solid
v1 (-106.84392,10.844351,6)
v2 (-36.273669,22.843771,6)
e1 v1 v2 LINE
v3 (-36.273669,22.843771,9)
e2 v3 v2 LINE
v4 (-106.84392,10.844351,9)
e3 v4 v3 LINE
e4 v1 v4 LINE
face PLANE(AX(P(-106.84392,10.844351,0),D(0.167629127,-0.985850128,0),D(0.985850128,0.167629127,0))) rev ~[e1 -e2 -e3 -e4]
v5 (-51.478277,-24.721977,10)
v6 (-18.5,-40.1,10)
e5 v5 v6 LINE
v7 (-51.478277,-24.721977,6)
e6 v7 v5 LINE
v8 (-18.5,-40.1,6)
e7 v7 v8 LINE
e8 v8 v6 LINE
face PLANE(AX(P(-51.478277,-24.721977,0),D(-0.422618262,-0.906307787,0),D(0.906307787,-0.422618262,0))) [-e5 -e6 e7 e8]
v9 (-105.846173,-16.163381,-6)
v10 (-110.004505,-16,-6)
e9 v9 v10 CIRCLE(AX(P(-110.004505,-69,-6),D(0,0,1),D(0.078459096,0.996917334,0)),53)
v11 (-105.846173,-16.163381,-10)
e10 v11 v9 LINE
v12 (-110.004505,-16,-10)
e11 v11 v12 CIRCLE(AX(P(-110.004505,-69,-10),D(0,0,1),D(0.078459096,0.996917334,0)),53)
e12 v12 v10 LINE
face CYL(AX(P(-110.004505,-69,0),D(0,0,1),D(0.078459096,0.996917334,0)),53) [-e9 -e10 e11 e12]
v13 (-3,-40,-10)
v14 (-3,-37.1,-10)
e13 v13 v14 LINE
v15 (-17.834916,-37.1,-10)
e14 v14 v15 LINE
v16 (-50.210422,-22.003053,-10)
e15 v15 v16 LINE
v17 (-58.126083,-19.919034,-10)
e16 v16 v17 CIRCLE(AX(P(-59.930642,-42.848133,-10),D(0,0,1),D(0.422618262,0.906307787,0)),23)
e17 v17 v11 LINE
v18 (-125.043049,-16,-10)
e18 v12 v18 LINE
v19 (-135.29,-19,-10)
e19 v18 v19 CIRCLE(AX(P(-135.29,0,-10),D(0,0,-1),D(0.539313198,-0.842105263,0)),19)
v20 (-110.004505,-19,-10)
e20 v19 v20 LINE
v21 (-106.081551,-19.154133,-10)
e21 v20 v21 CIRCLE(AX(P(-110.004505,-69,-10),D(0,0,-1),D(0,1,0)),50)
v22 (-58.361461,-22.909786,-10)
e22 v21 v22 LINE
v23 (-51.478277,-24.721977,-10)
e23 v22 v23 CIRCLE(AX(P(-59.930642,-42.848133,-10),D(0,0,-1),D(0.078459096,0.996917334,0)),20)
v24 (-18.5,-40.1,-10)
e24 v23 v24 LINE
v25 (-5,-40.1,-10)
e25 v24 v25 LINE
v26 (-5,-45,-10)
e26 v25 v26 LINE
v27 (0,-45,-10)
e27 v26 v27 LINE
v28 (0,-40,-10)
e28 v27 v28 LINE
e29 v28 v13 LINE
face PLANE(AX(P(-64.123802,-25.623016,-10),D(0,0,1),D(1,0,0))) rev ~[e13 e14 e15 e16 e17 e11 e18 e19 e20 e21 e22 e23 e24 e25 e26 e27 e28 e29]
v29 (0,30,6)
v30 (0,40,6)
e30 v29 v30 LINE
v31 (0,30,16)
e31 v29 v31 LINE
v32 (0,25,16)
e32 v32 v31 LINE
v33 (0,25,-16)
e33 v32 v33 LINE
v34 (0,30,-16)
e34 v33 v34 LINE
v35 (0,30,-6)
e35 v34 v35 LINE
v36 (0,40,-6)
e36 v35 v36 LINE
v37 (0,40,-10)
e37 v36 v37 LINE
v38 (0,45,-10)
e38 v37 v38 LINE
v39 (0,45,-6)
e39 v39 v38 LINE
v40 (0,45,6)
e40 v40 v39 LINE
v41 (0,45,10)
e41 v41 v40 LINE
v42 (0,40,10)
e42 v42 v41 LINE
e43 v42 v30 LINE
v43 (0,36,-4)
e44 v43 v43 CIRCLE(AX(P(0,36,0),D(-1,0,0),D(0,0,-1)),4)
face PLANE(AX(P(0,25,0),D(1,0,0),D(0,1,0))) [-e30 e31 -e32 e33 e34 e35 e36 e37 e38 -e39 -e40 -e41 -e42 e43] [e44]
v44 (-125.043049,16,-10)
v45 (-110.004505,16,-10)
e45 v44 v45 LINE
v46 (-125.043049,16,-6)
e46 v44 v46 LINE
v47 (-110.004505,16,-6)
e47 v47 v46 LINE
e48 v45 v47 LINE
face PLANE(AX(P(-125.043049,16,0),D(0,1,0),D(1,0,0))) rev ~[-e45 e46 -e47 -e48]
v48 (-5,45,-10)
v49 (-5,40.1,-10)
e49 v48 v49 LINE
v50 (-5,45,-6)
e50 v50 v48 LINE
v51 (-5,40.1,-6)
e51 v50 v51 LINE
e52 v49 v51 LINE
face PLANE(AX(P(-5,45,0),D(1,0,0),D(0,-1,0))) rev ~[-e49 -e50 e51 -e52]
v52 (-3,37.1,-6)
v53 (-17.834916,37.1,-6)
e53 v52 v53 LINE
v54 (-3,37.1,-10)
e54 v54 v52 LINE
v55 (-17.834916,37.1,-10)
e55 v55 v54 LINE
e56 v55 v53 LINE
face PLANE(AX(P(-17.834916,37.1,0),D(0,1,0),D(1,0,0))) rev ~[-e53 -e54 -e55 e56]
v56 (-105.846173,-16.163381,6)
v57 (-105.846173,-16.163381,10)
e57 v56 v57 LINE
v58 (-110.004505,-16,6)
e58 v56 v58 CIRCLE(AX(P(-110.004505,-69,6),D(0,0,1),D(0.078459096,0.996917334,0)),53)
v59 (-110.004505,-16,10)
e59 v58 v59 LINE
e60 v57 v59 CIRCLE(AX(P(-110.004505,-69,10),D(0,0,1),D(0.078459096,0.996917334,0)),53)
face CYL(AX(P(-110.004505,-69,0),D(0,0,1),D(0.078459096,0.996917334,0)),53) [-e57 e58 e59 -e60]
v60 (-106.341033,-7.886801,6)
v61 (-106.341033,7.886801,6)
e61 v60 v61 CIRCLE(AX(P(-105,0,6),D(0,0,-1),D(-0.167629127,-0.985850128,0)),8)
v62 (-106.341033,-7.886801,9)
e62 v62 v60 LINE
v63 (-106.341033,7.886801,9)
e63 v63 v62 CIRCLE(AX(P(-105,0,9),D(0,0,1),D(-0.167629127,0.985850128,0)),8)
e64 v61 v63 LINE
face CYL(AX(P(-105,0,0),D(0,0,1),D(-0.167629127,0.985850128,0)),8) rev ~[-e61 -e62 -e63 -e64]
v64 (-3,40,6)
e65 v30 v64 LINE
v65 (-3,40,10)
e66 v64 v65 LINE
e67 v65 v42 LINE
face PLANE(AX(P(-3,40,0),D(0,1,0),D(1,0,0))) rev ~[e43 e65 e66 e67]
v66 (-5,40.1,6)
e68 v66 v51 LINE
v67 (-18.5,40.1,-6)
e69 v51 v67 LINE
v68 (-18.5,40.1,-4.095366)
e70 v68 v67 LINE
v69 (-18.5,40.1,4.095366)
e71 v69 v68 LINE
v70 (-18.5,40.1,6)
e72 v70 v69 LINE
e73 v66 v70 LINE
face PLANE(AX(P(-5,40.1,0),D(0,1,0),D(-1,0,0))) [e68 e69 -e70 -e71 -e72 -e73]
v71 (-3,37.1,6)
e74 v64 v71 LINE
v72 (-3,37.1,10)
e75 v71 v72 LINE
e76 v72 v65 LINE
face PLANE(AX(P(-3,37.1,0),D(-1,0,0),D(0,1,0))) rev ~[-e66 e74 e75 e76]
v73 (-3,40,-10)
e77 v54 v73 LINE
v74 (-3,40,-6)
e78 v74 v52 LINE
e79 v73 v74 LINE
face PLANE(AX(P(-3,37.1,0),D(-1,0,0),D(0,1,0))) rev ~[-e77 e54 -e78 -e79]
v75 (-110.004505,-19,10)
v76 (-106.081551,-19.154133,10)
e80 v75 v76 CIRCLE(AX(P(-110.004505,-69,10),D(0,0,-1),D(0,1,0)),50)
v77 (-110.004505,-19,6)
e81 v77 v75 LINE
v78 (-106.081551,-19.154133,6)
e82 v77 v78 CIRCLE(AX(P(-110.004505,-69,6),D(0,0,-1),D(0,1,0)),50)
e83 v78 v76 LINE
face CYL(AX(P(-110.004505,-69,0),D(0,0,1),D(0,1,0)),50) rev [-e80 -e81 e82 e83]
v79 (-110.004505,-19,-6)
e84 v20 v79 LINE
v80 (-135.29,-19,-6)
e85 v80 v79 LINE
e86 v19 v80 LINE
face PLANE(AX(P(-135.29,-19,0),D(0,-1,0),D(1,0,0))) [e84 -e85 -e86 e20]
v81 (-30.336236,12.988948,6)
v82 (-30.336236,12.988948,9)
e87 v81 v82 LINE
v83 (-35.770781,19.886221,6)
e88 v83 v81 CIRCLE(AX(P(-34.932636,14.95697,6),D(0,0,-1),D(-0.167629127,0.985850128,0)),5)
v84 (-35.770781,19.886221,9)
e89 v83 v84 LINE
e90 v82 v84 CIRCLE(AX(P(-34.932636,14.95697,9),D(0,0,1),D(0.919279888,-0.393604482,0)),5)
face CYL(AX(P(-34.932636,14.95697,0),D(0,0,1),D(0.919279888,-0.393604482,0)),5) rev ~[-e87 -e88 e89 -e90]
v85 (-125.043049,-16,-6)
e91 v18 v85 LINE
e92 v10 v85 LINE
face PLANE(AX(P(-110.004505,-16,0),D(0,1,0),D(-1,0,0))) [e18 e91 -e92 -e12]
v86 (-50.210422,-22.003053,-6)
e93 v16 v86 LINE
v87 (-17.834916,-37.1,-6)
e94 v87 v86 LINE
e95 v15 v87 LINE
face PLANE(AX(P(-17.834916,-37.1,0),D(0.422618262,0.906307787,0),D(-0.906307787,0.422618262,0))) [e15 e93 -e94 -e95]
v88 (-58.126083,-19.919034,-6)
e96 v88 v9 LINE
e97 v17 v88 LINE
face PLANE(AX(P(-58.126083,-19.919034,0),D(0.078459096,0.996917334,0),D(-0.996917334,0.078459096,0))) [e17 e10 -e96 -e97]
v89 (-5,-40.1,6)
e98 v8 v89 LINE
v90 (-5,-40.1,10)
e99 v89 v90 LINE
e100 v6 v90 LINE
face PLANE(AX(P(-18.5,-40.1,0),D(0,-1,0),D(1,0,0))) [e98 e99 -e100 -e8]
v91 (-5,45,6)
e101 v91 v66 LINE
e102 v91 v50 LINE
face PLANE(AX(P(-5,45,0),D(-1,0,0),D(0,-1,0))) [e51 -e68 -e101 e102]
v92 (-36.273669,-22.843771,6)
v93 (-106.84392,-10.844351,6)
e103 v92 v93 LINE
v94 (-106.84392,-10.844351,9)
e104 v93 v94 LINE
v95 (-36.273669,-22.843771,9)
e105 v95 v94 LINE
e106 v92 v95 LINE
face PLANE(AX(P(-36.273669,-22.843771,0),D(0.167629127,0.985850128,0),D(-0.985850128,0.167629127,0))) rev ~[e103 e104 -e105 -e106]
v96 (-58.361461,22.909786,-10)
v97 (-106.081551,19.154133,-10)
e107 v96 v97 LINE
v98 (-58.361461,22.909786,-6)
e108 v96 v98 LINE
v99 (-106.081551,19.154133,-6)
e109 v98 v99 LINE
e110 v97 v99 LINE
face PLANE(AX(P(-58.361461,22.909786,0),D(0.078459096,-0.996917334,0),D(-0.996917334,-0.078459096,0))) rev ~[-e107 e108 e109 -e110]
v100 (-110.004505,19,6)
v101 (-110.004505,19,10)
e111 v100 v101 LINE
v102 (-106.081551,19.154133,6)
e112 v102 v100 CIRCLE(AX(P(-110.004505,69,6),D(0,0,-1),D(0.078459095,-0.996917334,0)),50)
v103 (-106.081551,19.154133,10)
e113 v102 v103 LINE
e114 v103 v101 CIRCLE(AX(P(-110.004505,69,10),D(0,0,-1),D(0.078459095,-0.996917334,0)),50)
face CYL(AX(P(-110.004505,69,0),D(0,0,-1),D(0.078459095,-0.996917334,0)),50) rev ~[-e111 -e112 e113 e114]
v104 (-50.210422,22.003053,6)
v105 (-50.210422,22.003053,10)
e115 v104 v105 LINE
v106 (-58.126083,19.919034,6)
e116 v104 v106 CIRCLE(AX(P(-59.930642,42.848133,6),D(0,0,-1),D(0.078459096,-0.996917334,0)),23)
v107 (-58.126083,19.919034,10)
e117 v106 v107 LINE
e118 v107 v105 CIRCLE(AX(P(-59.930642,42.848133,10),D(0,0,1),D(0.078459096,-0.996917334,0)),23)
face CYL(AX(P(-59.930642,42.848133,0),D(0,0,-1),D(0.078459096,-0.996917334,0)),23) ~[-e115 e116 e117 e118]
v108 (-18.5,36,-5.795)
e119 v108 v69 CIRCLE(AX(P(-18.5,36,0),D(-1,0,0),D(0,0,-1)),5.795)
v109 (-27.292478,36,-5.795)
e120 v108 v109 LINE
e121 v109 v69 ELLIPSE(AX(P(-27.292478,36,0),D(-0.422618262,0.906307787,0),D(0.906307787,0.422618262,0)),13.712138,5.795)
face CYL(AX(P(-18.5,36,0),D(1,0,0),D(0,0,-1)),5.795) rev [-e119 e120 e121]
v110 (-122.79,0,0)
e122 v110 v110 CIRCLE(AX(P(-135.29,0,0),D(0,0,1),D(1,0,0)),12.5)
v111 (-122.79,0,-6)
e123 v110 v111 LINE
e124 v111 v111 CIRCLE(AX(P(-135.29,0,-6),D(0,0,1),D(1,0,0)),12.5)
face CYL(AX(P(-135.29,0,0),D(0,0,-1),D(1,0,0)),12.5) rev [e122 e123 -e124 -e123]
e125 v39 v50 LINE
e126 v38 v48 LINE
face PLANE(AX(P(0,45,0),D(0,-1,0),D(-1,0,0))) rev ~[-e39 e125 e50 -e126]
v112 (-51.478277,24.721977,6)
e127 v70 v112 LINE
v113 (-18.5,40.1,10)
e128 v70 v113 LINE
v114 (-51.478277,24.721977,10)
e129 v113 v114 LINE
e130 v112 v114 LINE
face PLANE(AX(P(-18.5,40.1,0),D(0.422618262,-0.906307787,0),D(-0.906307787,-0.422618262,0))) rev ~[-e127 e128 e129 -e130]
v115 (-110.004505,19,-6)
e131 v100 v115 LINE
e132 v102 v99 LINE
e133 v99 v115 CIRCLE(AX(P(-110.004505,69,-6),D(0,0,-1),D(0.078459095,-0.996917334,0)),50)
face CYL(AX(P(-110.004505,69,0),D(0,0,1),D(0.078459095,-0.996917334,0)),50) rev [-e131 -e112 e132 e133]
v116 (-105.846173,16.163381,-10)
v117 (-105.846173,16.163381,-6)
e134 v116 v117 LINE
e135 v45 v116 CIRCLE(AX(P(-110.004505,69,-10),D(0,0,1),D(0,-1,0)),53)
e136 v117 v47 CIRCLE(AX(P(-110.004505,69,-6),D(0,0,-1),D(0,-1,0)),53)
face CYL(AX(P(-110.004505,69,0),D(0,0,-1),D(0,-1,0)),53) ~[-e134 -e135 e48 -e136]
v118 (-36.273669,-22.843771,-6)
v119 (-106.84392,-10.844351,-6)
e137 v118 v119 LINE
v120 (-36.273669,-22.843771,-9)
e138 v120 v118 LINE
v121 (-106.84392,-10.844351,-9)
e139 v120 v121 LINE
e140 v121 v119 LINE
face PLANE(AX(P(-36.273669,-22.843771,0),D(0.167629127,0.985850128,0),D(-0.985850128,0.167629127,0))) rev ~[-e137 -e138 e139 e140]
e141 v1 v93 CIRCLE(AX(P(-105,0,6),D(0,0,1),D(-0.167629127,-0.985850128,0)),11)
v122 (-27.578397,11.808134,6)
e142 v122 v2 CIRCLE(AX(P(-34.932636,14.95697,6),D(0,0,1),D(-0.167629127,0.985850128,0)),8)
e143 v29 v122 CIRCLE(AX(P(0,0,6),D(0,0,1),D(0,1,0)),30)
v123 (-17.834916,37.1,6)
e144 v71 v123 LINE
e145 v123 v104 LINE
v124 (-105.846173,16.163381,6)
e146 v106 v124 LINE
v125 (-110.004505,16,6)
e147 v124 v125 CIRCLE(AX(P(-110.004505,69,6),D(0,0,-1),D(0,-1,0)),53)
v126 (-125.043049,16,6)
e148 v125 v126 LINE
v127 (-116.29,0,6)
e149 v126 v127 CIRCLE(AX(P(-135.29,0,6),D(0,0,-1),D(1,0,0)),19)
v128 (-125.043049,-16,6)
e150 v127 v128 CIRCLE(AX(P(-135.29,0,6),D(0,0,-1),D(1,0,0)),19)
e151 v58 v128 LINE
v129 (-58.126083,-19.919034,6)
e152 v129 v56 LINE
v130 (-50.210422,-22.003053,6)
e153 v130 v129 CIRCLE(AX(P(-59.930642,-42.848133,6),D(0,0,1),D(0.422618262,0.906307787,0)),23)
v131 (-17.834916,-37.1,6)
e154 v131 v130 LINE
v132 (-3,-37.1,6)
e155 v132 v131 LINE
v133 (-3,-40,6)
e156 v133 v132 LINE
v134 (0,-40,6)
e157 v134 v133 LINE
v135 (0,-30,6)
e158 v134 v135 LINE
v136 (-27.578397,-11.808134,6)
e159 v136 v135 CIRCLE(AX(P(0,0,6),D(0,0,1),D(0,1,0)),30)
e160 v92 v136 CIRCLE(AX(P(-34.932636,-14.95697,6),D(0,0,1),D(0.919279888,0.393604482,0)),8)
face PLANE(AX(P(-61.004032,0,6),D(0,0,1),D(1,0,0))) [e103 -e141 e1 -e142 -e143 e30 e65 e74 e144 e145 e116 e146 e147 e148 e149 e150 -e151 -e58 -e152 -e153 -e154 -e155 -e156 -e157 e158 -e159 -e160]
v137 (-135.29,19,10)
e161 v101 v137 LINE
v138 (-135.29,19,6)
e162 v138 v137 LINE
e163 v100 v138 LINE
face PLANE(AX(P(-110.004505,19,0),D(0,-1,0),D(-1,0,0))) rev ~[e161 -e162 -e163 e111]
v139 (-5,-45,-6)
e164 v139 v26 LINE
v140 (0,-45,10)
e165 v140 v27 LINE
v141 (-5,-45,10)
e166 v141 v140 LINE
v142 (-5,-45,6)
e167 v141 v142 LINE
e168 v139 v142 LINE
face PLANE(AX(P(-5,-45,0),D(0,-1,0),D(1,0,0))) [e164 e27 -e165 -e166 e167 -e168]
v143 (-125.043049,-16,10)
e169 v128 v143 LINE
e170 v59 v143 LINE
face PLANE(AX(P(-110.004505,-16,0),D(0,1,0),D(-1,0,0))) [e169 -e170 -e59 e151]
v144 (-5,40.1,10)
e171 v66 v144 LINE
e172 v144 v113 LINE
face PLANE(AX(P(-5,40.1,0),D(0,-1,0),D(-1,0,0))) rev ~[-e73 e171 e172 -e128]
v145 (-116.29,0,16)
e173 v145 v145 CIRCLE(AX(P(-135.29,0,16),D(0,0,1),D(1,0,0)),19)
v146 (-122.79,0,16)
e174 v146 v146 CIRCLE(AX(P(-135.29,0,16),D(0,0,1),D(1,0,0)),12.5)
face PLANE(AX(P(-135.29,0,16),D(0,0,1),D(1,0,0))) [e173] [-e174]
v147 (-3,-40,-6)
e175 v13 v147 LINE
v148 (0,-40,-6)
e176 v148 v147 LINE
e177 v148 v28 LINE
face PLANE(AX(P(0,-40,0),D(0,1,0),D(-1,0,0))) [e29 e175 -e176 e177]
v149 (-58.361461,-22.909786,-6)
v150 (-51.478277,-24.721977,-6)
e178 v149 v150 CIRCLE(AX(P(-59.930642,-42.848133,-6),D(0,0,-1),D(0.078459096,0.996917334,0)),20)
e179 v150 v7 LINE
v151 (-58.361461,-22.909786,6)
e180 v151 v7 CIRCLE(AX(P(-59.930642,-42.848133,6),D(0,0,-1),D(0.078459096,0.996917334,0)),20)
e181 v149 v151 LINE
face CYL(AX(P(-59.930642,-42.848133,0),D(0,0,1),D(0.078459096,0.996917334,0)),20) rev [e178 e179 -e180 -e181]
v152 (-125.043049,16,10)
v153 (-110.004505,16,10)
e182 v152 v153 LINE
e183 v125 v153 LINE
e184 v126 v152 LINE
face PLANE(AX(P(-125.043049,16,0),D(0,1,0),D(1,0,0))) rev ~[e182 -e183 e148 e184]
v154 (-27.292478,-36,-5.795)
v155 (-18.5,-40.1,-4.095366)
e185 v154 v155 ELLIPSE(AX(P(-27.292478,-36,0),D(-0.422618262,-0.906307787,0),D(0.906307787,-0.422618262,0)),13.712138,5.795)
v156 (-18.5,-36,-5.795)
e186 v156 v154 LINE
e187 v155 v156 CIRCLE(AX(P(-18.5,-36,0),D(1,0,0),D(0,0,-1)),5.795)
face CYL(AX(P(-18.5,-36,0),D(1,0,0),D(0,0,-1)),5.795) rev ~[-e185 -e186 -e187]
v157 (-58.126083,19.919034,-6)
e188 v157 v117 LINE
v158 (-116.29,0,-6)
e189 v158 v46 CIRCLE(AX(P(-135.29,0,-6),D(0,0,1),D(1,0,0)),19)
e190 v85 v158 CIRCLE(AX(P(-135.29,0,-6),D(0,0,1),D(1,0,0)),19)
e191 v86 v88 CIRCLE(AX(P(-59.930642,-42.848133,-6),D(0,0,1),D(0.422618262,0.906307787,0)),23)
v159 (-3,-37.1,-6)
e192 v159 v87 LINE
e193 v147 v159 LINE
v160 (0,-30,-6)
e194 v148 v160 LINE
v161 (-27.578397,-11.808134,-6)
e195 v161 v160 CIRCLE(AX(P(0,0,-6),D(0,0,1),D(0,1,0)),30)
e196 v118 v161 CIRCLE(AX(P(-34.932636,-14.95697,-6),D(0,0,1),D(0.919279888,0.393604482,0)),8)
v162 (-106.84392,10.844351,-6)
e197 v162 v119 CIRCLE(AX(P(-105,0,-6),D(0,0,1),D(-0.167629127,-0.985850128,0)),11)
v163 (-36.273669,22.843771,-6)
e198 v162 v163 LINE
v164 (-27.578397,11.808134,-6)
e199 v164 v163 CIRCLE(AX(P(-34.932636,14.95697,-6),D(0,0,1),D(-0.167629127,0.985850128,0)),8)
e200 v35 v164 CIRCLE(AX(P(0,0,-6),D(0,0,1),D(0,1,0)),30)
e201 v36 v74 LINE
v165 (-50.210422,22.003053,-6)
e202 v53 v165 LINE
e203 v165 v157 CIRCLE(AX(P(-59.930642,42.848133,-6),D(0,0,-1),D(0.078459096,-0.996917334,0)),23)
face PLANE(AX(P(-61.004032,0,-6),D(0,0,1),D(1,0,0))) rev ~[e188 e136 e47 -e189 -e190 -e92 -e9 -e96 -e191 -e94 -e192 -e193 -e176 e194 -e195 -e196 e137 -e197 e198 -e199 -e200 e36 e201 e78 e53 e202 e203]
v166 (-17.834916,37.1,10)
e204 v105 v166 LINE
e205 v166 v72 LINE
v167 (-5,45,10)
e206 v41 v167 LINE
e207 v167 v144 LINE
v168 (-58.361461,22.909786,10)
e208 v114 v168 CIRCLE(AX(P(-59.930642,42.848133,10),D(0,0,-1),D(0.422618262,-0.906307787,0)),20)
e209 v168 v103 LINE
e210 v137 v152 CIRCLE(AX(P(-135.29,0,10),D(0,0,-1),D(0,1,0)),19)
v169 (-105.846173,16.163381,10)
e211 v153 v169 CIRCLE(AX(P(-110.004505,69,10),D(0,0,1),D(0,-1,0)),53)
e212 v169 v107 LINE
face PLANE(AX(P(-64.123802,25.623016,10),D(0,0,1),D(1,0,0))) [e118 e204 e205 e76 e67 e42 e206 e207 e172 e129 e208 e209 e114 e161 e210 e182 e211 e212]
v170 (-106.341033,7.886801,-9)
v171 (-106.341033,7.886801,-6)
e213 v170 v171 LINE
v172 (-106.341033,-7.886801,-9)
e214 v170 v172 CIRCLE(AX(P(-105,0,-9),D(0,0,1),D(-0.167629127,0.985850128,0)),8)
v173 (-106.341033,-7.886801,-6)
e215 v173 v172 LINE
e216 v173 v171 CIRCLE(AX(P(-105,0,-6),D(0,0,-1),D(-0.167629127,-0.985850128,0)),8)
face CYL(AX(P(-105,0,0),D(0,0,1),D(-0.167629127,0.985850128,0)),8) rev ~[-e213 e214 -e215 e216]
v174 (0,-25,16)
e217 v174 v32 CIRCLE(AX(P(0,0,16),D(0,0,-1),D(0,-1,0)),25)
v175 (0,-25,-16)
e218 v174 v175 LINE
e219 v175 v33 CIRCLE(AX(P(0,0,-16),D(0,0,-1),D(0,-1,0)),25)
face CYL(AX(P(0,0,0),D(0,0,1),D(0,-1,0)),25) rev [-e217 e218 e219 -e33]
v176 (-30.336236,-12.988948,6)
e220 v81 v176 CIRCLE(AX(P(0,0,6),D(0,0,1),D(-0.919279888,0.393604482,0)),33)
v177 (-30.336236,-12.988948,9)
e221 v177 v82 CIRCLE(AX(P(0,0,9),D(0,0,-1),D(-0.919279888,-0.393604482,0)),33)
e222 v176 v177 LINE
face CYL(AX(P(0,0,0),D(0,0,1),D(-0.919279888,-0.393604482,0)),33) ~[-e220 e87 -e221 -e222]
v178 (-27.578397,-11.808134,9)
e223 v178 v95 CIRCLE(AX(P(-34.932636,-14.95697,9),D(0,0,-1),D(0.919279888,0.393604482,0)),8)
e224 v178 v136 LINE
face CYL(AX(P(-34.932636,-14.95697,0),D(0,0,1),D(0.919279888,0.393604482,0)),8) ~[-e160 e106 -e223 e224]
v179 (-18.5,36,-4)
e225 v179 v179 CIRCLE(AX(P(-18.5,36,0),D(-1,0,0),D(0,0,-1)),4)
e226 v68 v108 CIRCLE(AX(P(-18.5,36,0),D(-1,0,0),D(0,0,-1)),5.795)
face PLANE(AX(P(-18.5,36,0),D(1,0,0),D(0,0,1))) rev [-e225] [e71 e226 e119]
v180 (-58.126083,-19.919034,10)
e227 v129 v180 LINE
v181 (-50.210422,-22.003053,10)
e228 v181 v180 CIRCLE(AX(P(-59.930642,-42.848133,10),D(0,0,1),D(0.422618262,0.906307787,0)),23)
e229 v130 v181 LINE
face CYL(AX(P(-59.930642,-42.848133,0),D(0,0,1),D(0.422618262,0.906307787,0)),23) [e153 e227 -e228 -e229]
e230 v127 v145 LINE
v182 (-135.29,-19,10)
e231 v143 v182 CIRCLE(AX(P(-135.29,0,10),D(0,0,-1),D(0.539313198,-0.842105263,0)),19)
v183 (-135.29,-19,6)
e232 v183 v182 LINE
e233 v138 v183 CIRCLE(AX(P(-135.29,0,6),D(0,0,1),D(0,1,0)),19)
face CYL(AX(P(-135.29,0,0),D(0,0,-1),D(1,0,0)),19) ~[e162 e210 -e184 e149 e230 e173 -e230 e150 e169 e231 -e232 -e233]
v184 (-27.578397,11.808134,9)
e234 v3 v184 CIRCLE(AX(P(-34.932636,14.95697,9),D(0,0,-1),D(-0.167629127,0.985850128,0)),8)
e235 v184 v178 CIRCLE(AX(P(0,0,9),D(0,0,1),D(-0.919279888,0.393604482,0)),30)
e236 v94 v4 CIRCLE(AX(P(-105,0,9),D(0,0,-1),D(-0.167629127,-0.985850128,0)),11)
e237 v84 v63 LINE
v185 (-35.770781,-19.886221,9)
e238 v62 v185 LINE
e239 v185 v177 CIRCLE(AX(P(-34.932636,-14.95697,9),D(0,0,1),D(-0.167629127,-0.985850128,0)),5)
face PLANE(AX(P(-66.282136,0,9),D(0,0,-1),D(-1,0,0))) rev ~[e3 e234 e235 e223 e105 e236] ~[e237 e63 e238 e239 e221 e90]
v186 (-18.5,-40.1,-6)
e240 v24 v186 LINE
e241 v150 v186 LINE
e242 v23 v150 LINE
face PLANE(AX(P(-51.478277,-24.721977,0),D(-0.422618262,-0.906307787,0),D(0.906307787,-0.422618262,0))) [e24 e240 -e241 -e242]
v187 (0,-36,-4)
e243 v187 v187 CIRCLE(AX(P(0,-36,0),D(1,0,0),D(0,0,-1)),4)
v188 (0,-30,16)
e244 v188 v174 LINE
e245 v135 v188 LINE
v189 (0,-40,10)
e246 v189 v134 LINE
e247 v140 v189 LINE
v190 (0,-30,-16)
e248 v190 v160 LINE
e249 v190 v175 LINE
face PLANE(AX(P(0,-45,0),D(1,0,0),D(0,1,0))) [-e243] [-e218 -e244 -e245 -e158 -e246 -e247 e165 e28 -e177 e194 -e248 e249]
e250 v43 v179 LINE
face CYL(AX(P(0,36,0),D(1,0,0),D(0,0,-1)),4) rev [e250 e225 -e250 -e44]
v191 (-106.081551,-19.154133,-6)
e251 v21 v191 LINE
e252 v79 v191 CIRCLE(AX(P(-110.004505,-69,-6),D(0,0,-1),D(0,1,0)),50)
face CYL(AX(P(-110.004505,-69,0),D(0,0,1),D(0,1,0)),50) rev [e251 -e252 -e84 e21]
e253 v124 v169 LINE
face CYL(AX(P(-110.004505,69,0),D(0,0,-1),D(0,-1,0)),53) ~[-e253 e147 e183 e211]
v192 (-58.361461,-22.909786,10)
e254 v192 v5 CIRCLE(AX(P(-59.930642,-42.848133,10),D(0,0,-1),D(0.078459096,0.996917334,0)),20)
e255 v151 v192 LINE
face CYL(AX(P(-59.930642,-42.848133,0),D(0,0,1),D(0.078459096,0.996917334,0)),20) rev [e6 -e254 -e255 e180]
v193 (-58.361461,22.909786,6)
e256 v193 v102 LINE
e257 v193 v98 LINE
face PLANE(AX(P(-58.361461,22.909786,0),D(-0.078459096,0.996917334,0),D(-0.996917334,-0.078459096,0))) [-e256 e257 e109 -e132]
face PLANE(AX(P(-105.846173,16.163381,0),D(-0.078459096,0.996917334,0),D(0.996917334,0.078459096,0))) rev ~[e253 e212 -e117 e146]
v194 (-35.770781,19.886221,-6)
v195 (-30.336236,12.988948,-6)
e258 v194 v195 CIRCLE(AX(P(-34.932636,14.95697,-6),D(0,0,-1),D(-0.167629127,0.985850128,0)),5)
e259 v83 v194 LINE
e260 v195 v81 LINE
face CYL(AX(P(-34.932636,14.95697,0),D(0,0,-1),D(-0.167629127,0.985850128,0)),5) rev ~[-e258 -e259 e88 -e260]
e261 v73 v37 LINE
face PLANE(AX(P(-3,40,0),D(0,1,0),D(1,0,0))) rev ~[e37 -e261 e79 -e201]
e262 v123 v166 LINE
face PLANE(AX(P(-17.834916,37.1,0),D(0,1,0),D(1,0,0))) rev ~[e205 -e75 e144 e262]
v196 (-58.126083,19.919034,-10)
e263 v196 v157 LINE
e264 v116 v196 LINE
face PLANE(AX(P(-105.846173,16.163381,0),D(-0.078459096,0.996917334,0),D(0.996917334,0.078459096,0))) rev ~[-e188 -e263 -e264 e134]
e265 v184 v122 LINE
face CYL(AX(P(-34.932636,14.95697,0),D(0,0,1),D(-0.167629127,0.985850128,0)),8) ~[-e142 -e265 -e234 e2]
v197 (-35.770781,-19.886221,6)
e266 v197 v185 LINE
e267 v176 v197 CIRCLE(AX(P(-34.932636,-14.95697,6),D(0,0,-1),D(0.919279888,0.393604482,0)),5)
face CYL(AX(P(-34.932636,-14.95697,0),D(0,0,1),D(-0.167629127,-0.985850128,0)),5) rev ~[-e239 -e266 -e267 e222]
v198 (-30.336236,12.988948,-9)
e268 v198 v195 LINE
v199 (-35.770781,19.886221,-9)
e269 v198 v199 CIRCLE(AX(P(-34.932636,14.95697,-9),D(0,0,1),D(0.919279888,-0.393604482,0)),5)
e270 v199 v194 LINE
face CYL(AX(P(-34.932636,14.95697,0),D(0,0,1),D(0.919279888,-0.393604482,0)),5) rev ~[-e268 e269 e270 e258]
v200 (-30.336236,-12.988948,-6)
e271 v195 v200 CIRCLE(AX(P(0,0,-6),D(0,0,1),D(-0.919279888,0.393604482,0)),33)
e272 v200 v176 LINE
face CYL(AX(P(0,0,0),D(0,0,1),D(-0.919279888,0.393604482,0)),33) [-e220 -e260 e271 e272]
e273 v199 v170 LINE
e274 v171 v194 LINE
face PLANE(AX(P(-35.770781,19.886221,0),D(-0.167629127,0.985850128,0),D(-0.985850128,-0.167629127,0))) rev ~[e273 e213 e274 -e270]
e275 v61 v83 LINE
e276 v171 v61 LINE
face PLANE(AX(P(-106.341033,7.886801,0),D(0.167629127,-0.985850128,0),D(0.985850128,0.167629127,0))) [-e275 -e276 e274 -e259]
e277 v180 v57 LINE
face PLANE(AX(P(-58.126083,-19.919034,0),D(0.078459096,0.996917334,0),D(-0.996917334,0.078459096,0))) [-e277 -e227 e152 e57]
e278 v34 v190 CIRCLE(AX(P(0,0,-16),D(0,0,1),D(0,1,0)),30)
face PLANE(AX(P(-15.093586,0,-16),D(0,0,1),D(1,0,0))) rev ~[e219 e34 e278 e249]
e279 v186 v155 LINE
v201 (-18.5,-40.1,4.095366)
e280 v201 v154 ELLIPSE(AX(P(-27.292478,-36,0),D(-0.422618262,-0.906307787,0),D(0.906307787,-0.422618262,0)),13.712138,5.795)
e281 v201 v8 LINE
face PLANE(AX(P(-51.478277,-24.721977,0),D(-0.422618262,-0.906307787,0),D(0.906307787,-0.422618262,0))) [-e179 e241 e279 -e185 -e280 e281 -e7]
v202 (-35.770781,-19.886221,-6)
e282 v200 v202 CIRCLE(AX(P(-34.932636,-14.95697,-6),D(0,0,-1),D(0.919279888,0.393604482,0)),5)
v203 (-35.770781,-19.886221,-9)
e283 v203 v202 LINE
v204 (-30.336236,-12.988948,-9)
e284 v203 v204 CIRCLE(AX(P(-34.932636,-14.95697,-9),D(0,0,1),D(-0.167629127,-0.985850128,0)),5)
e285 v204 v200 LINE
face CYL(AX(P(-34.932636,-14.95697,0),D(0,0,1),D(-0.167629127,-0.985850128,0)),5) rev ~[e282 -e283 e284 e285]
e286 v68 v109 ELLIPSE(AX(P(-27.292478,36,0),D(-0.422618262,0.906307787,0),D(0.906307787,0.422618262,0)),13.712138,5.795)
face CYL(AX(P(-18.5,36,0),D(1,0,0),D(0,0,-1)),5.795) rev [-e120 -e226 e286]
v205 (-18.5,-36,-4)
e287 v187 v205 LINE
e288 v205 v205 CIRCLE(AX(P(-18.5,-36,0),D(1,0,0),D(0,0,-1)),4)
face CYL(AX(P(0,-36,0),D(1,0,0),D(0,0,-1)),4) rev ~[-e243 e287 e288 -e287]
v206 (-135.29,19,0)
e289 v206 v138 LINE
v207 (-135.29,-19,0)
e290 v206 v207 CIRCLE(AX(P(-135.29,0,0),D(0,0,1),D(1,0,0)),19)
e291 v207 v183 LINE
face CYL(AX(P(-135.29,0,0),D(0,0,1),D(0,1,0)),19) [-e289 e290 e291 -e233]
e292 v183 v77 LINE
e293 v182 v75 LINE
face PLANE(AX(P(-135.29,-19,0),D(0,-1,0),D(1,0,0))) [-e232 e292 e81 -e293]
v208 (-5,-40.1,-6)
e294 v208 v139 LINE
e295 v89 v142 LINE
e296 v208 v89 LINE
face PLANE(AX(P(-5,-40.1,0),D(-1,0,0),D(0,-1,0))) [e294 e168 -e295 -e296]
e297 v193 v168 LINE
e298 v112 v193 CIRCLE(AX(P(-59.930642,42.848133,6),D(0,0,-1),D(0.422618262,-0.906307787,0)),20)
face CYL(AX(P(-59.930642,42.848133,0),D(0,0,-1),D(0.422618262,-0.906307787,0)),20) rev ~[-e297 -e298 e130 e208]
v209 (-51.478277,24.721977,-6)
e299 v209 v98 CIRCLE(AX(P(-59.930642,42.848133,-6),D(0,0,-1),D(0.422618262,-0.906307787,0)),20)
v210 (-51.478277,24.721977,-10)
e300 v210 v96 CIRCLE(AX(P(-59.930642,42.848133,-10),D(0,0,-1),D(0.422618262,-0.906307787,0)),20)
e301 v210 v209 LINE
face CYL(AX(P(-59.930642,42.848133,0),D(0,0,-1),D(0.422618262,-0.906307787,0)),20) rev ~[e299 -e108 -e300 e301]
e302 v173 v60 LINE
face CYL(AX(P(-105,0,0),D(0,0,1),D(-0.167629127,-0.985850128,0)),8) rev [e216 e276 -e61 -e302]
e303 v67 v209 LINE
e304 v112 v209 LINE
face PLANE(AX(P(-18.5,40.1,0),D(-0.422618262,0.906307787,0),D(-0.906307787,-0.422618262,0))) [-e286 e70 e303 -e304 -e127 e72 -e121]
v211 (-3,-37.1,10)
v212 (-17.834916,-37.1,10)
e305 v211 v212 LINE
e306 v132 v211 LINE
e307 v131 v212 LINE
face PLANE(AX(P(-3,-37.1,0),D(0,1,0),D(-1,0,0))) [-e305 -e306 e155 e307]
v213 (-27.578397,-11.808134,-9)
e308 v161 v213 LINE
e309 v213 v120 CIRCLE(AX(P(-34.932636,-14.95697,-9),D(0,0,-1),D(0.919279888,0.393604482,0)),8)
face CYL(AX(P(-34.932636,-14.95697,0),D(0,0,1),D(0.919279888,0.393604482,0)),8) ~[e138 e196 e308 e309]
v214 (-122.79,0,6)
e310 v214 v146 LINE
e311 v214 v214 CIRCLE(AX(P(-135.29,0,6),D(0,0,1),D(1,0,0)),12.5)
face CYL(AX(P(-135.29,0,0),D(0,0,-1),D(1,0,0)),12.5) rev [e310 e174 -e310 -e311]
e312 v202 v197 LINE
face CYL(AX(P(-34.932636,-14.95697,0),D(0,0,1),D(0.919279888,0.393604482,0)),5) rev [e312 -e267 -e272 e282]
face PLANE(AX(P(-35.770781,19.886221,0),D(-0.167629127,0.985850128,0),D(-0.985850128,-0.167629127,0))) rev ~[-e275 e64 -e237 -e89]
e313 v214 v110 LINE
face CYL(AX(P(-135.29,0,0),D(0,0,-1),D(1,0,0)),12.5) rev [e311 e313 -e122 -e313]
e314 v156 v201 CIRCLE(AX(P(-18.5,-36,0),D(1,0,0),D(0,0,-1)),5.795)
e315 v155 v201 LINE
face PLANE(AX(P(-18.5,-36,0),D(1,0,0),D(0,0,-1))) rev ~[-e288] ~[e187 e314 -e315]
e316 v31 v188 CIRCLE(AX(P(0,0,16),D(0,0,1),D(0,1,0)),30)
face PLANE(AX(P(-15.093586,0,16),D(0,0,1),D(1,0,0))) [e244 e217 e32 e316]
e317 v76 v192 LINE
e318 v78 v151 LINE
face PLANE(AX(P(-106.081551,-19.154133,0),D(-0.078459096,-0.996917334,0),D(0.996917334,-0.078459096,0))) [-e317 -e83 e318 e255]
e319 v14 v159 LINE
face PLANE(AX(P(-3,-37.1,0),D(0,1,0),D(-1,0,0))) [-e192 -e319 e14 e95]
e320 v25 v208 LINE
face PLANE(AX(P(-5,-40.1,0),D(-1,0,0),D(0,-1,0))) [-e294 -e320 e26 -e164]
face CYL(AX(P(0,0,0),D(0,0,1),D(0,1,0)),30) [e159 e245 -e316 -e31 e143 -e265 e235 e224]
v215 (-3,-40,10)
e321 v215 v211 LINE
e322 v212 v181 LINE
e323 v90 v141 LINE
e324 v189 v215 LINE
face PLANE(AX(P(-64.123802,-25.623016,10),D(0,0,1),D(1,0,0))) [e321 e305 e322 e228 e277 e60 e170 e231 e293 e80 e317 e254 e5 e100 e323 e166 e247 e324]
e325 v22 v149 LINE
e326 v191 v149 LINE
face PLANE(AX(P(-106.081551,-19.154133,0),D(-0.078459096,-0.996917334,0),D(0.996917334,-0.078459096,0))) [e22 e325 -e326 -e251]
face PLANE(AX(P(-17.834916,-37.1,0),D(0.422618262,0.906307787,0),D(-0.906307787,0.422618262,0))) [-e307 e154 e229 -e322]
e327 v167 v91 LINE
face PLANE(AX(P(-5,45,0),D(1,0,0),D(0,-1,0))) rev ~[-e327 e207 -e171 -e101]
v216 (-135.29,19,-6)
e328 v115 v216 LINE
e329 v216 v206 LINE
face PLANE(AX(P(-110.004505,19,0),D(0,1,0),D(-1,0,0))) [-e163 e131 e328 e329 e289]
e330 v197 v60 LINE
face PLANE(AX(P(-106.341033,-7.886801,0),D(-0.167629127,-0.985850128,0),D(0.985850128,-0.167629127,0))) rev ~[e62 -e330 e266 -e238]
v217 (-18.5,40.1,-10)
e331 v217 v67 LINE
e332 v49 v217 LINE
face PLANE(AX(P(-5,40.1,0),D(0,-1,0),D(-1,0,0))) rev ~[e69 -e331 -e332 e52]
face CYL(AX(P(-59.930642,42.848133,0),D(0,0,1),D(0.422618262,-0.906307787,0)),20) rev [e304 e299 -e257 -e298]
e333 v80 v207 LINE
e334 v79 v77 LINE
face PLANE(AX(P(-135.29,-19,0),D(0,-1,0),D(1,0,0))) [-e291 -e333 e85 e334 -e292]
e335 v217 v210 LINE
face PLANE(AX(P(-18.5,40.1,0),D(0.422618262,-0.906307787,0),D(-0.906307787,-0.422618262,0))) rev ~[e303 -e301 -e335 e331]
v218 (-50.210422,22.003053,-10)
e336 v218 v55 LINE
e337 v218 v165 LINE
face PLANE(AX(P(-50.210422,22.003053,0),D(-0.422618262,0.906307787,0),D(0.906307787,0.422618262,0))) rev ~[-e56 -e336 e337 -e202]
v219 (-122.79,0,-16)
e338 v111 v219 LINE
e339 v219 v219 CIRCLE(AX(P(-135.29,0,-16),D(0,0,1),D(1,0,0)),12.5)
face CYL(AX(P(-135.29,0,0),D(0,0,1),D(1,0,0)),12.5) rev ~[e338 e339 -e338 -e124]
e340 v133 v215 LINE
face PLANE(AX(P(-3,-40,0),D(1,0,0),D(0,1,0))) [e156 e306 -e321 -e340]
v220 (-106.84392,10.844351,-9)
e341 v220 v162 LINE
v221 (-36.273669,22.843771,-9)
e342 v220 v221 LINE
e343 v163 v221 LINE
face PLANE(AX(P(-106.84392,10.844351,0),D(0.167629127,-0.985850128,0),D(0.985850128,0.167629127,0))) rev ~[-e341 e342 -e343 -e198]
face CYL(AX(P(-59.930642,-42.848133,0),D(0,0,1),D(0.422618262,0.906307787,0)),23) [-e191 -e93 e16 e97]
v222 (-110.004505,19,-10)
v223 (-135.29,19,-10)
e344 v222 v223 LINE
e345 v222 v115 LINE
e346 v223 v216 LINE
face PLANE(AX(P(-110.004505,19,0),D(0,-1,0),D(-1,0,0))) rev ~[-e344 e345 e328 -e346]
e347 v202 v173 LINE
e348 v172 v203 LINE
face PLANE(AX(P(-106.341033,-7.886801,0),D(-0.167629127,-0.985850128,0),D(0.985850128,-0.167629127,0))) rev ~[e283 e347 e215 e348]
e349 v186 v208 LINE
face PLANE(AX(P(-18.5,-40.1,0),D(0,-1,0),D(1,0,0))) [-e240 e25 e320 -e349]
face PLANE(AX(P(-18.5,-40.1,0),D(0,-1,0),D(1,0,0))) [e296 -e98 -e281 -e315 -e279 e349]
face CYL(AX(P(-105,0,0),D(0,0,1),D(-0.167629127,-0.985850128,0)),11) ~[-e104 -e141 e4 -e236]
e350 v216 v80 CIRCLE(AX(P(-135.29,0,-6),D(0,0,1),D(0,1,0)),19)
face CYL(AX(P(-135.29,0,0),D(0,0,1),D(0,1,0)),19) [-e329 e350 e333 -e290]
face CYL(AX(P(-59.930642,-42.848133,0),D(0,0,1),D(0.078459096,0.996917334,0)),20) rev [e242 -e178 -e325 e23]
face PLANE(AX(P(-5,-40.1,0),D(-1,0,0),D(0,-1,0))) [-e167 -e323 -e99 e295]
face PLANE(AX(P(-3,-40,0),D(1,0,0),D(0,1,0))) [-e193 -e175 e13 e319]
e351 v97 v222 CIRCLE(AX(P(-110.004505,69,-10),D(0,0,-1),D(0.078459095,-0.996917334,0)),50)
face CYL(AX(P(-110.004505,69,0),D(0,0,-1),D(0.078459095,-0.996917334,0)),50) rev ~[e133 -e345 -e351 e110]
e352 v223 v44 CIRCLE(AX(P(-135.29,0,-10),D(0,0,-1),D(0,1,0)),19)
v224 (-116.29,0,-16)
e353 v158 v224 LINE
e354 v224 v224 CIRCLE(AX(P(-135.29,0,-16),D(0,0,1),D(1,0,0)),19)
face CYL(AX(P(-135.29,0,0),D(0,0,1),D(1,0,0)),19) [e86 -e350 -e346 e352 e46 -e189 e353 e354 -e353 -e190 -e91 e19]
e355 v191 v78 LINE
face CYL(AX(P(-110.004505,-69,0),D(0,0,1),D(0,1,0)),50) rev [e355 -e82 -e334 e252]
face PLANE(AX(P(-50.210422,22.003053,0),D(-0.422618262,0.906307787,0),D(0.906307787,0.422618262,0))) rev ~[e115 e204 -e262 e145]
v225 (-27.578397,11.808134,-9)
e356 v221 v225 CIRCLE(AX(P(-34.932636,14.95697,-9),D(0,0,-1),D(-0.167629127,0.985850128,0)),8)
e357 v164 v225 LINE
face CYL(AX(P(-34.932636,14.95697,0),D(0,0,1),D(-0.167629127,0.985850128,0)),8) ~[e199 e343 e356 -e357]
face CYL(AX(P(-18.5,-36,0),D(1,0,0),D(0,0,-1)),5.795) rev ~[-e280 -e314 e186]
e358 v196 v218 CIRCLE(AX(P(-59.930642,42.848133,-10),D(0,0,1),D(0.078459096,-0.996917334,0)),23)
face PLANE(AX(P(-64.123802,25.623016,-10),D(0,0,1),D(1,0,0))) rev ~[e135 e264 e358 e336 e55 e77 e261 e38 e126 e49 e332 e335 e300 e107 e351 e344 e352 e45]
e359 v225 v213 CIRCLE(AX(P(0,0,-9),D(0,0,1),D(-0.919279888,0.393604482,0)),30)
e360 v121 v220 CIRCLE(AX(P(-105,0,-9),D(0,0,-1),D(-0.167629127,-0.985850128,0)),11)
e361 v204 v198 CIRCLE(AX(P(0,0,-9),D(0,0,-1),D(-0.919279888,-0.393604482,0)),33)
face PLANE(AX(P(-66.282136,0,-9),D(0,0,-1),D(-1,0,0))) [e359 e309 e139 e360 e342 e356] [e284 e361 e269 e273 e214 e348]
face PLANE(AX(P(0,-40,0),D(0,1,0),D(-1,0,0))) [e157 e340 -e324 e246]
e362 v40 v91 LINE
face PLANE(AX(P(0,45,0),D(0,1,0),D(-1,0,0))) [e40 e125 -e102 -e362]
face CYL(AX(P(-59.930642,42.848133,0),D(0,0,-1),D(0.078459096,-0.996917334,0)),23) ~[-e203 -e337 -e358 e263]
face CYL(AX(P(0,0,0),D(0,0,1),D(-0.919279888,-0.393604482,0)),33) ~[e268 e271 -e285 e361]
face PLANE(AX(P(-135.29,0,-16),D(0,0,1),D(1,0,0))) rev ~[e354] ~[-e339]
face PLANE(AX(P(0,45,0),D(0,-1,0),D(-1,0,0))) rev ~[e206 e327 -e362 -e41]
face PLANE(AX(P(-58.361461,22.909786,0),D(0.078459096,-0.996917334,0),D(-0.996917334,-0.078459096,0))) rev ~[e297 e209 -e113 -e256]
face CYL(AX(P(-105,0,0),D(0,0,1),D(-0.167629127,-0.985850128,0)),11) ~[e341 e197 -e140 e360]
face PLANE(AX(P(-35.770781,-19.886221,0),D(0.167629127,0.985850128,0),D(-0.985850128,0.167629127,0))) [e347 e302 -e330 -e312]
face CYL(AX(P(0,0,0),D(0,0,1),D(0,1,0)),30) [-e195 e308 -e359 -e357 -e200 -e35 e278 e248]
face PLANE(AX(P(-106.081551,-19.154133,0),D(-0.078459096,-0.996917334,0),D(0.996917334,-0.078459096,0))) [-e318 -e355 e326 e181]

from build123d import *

# Parameters (mm, degrees)
SKETCH1_R           = 12.5
BOSS_EXTRUDE1_DEPTH = 6
SKETCH1_4_R         = 19
SKETCH1_4_R_2       = 12.5
BOSS_EXTRUDE2_DEPTH = 16
BOSS_EXTRUDE3_DEPTH = 10
SKETCH3_R           = 4
CUT_EXTRUDE2_DEPTH  = 18.5
SKETCH4_R           = 5.795
CUT_EXTRUDE4_DEPTH  = 144.94417008
BOSS_EXTRUDE4_DEPTH = 9


with BuildPart() as part:
    # Sketch1 → Boss-Extrude1 (new, symmetric)
    with BuildSketch(Plane.XY):
        with BuildLine():
            Line((-110.00450535, 19), (-135.29, 19))
            ThreePointArc((-135.29, 19), (-154.29, 0), (-135.29, -19))
            Line((-135.29, -19), (-110.00450535, -19))
            ThreePointArc((-110.00450535, -19), (-108.041514562, -19.038548188), (-106.081550564, -19.154133313))
            Line((-106.081550564, -19.154133313), (-58.361460534, -22.909785849))
            ThreePointArc((-58.361460534, -22.909785849), (-54.838603484, -23.507213745), (-51.478277214, -24.721976782))
            Line((-51.478277214, -24.721976782), (-18.5, -40.1))
            Line((-18.5, -40.1), (-5, -40.1))
            Line((-5, -40.1), (-5, -45))
            Line((-5, -45), (0, -45))
            Line((0, -45), (0, -25))
            ThreePointArc((0, -25), (-25, 0), (0, 25))
            Line((0, 25), (0, 45))
            Line((0, 45), (-5, 45))
            Line((-5, 45), (-5, 40.1))
            Line((-5, 40.1), (-18.5, 40.1))
            Line((-18.5, 40.1), (-51.478277214, 24.721976782))
            ThreePointArc((-51.478277214, 24.721976782), (-54.838603484, 23.507213745), (-58.361460534, 22.909785849))
            Line((-58.361460534, 22.909785849), (-106.081550564, 19.154133313))
            ThreePointArc((-106.081550564, 19.154133313), (-108.041514562, 19.038548188), (-110.00450535, 19))
        make_face()
        with BuildLine():
            ThreePointArc((-106.341033016, -7.886801028), (-113, 0), (-106.341033016, 7.886801028))
            Line((-106.341033016, 7.886801028), (-35.770781366, 19.886220952))
            ThreePointArc((-35.770781366, 19.886220952), (-31.0052687, 18.051447358), (-30.336236293, 12.988947901))
            ThreePointArc((-30.336236293, 12.988947901), (-33, 0), (-30.336236293, -12.988947901))
            ThreePointArc((-30.336236293, -12.988947901), (-31.0052687, -18.051447358), (-35.770781366, -19.886220952))
            Line((-35.770781366, -19.886220952), (-106.341033016, -7.886801028))
        make_face(mode=Mode.SUBTRACT)
        with Locations((-135.29, 0)):
            Circle(SKETCH1_R, mode=Mode.SUBTRACT)
    extrude(amount=BOSS_EXTRUDE1_DEPTH, both=True)

    # Sketch1<4> → Boss-Extrude2 (add, symmetric)
    # profile 1 of 2: a face of its own
    with BuildSketch(Plane.XY):
        with Locations((-135.29, 0)):
            Circle(SKETCH1_4_R)
        with Locations((-135.29, 0)):
            Circle(SKETCH1_4_R_2, mode=Mode.SUBTRACT)
    # profile 2 of 2: a face of its own
    with BuildSketch(Plane.XY):
        with BuildLine():
            Line((0, 25), (0, 30))
            ThreePointArc((0, 30), (-30, 0), (0, -30))
            Line((0, -30), (0, -25))
            ThreePointArc((0, -25), (-25, 0), (0, 25))
        make_face()
    extrude(amount=BOSS_EXTRUDE2_DEPTH, both=True)

    # Sketch2 → Boss-Extrude3 (add, symmetric)
    with BuildSketch(Plane.XY):
        with BuildLine():
            Line((-5, 45), (-5, 40.1))
            Line((-5, 40.1), (-18.5, 40.1))
            Line((-18.5, 40.1), (-51.478277214, 24.721976782))
            ThreePointArc((-51.478277214, 24.721976782), (-54.838603484, 23.507213745), (-58.361460534, 22.909785849))
            Line((-58.361460534, 22.909785849), (-106.081550564, 19.154133313))
            ThreePointArc((-106.081550564, 19.154133313), (-108.041514562, 19.038548188), (-110.00450535, 19))
            Line((-110.00450535, 19), (-135.29, 19))
            ThreePointArc((-135.29, 19), (-129.951460874, 18.234582529), (-125.043049234, 16))
            Line((-125.043049234, 16), (-110.00450535, 16))
            ThreePointArc((-110.00450535, 16), (-107.923735115, 16.040861079), (-105.846173277, 16.163381312))
            Line((-105.846173277, 16.163381312), (-58.126083247, 19.919033847))
            ThreePointArc((-58.126083247, 19.919033847), (-54.07479764, 20.606075928), (-50.210422429, 22.003053421))
            Line((-50.210422429, 22.003053421), (-17.834916012, 37.1))
            Line((-17.834916012, 37.1), (-3, 37.1))
            Line((-3, 37.1), (-3, 40))
            Line((-3, 40), (0, 40))
            Line((0, 40), (0, 45))
            Line((0, 45), (-5, 45))
        make_face()
        with BuildLine():
            Line((0, -40), (-3, -40))
            Line((-3, -40), (-3, -37.1))
            Line((-3, -37.1), (-17.834916012, -37.1))
            Line((-17.834916012, -37.1), (-50.210422429, -22.003053421))
            ThreePointArc((-50.210422429, -22.003053421), (-54.07479764, -20.606075928), (-58.126083247, -19.919033847))
            Line((-58.126083247, -19.919033847), (-105.846173277, -16.163381312))
            ThreePointArc((-105.846173277, -16.163381312), (-107.923735115, -16.040861079), (-110.00450535, -16))
            Line((-110.00450535, -16), (-125.043049234, -16))
            ThreePointArc((-125.043049234, -16), (-129.951460874, -18.234582529), (-135.29, -19))
            Line((-135.29, -19), (-110.00450535, -19))
            ThreePointArc((-110.00450535, -19), (-108.041514562, -19.038548188), (-106.081550564, -19.154133313))
            Line((-106.081550564, -19.154133313), (-58.361460534, -22.909785849))
            ThreePointArc((-58.361460534, -22.909785849), (-54.838603484, -23.507213745), (-51.478277214, -24.721976782))
            Line((-51.478277214, -24.721976782), (-18.5, -40.1))
            Line((-18.5, -40.1), (-5, -40.1))
            Line((-5, -40.1), (-5, -45))
            Line((-5, -45), (0, -45))
            Line((0, -45), (0, -40))
        make_face()
    extrude(amount=BOSS_EXTRUDE3_DEPTH, both=True)

    # Sketch3 → Cut-Extrude2 (cut)
    with BuildSketch(Plane(origin=(0, 0, 0), x_dir=(0, 0, -1), z_dir=(1, 0, 0))):
        with Locations((0, -36)):
            Circle(SKETCH3_R)
    cut_extrude2 = extrude(amount=-CUT_EXTRUDE2_DEPTH, mode=Mode.SUBTRACT)

    # Sketch4 → Cut-Extrude4 (cut, through all)
    with BuildSketch(Plane(origin=(-18.5, 0, 0), x_dir=(0, 0, -1), z_dir=(1, 0, 0))):
        with Locations((0, -36)):
            Circle(SKETCH4_R)
    cut_extrude4 = extrude(amount=-CUT_EXTRUDE4_DEPTH, mode=Mode.SUBTRACT)

    # Mirror1: Cut-Extrude2, Cut-Extrude4 across plane
    add(cut_extrude2.mirror(Plane.ZX), mode=Mode.SUBTRACT)
    add(cut_extrude4.mirror(Plane.ZX), mode=Mode.SUBTRACT)

    # Sketch5 → Boss-Extrude4 (add, symmetric)
    with BuildSketch(Plane.XY):
        with BuildLine():
            Line((-106.843920397, 10.844351413), (-36.273668747, 22.843771338))
            ThreePointArc((-36.273668747, 22.843771338), (-28.648848481, 19.908133587), (-27.57839663, 11.808134455))
            ThreePointArc((-27.57839663, 11.808134455), (-30, 0), (-27.57839663, -11.808134455))
            ThreePointArc((-27.57839663, -11.808134455), (-28.648848481, -19.908133587), (-36.273668747, -22.843771338))
            Line((-36.273668747, -22.843771338), (-106.843920397, -10.844351413))
            ThreePointArc((-106.843920397, -10.844351413), (-116, 0), (-106.843920397, 10.844351413))
        make_face()
        with BuildLine():
            Line((-106.341033016, -7.886801028), (-35.770781366, -19.886220952))
            ThreePointArc((-35.770781366, -19.886220952), (-31.0052687, -18.051447358), (-30.336236293, -12.988947901))
            ThreePointArc((-30.336236293, -12.988947901), (-33, 0), (-30.336236293, 12.988947901))
            ThreePointArc((-30.336236293, 12.988947901), (-31.0052687, 18.051447358), (-35.770781366, 19.886220952))
            Line((-35.770781366, 19.886220952), (-106.341033016, 7.886801028))
            ThreePointArc((-106.341033016, 7.886801028), (-113, 0), (-106.341033016, -7.886801028))
        make_face(mode=Mode.SUBTRACT)
    extrude(amount=BOSS_EXTRUDE4_DEPTH, both=True)


solid = part.part
